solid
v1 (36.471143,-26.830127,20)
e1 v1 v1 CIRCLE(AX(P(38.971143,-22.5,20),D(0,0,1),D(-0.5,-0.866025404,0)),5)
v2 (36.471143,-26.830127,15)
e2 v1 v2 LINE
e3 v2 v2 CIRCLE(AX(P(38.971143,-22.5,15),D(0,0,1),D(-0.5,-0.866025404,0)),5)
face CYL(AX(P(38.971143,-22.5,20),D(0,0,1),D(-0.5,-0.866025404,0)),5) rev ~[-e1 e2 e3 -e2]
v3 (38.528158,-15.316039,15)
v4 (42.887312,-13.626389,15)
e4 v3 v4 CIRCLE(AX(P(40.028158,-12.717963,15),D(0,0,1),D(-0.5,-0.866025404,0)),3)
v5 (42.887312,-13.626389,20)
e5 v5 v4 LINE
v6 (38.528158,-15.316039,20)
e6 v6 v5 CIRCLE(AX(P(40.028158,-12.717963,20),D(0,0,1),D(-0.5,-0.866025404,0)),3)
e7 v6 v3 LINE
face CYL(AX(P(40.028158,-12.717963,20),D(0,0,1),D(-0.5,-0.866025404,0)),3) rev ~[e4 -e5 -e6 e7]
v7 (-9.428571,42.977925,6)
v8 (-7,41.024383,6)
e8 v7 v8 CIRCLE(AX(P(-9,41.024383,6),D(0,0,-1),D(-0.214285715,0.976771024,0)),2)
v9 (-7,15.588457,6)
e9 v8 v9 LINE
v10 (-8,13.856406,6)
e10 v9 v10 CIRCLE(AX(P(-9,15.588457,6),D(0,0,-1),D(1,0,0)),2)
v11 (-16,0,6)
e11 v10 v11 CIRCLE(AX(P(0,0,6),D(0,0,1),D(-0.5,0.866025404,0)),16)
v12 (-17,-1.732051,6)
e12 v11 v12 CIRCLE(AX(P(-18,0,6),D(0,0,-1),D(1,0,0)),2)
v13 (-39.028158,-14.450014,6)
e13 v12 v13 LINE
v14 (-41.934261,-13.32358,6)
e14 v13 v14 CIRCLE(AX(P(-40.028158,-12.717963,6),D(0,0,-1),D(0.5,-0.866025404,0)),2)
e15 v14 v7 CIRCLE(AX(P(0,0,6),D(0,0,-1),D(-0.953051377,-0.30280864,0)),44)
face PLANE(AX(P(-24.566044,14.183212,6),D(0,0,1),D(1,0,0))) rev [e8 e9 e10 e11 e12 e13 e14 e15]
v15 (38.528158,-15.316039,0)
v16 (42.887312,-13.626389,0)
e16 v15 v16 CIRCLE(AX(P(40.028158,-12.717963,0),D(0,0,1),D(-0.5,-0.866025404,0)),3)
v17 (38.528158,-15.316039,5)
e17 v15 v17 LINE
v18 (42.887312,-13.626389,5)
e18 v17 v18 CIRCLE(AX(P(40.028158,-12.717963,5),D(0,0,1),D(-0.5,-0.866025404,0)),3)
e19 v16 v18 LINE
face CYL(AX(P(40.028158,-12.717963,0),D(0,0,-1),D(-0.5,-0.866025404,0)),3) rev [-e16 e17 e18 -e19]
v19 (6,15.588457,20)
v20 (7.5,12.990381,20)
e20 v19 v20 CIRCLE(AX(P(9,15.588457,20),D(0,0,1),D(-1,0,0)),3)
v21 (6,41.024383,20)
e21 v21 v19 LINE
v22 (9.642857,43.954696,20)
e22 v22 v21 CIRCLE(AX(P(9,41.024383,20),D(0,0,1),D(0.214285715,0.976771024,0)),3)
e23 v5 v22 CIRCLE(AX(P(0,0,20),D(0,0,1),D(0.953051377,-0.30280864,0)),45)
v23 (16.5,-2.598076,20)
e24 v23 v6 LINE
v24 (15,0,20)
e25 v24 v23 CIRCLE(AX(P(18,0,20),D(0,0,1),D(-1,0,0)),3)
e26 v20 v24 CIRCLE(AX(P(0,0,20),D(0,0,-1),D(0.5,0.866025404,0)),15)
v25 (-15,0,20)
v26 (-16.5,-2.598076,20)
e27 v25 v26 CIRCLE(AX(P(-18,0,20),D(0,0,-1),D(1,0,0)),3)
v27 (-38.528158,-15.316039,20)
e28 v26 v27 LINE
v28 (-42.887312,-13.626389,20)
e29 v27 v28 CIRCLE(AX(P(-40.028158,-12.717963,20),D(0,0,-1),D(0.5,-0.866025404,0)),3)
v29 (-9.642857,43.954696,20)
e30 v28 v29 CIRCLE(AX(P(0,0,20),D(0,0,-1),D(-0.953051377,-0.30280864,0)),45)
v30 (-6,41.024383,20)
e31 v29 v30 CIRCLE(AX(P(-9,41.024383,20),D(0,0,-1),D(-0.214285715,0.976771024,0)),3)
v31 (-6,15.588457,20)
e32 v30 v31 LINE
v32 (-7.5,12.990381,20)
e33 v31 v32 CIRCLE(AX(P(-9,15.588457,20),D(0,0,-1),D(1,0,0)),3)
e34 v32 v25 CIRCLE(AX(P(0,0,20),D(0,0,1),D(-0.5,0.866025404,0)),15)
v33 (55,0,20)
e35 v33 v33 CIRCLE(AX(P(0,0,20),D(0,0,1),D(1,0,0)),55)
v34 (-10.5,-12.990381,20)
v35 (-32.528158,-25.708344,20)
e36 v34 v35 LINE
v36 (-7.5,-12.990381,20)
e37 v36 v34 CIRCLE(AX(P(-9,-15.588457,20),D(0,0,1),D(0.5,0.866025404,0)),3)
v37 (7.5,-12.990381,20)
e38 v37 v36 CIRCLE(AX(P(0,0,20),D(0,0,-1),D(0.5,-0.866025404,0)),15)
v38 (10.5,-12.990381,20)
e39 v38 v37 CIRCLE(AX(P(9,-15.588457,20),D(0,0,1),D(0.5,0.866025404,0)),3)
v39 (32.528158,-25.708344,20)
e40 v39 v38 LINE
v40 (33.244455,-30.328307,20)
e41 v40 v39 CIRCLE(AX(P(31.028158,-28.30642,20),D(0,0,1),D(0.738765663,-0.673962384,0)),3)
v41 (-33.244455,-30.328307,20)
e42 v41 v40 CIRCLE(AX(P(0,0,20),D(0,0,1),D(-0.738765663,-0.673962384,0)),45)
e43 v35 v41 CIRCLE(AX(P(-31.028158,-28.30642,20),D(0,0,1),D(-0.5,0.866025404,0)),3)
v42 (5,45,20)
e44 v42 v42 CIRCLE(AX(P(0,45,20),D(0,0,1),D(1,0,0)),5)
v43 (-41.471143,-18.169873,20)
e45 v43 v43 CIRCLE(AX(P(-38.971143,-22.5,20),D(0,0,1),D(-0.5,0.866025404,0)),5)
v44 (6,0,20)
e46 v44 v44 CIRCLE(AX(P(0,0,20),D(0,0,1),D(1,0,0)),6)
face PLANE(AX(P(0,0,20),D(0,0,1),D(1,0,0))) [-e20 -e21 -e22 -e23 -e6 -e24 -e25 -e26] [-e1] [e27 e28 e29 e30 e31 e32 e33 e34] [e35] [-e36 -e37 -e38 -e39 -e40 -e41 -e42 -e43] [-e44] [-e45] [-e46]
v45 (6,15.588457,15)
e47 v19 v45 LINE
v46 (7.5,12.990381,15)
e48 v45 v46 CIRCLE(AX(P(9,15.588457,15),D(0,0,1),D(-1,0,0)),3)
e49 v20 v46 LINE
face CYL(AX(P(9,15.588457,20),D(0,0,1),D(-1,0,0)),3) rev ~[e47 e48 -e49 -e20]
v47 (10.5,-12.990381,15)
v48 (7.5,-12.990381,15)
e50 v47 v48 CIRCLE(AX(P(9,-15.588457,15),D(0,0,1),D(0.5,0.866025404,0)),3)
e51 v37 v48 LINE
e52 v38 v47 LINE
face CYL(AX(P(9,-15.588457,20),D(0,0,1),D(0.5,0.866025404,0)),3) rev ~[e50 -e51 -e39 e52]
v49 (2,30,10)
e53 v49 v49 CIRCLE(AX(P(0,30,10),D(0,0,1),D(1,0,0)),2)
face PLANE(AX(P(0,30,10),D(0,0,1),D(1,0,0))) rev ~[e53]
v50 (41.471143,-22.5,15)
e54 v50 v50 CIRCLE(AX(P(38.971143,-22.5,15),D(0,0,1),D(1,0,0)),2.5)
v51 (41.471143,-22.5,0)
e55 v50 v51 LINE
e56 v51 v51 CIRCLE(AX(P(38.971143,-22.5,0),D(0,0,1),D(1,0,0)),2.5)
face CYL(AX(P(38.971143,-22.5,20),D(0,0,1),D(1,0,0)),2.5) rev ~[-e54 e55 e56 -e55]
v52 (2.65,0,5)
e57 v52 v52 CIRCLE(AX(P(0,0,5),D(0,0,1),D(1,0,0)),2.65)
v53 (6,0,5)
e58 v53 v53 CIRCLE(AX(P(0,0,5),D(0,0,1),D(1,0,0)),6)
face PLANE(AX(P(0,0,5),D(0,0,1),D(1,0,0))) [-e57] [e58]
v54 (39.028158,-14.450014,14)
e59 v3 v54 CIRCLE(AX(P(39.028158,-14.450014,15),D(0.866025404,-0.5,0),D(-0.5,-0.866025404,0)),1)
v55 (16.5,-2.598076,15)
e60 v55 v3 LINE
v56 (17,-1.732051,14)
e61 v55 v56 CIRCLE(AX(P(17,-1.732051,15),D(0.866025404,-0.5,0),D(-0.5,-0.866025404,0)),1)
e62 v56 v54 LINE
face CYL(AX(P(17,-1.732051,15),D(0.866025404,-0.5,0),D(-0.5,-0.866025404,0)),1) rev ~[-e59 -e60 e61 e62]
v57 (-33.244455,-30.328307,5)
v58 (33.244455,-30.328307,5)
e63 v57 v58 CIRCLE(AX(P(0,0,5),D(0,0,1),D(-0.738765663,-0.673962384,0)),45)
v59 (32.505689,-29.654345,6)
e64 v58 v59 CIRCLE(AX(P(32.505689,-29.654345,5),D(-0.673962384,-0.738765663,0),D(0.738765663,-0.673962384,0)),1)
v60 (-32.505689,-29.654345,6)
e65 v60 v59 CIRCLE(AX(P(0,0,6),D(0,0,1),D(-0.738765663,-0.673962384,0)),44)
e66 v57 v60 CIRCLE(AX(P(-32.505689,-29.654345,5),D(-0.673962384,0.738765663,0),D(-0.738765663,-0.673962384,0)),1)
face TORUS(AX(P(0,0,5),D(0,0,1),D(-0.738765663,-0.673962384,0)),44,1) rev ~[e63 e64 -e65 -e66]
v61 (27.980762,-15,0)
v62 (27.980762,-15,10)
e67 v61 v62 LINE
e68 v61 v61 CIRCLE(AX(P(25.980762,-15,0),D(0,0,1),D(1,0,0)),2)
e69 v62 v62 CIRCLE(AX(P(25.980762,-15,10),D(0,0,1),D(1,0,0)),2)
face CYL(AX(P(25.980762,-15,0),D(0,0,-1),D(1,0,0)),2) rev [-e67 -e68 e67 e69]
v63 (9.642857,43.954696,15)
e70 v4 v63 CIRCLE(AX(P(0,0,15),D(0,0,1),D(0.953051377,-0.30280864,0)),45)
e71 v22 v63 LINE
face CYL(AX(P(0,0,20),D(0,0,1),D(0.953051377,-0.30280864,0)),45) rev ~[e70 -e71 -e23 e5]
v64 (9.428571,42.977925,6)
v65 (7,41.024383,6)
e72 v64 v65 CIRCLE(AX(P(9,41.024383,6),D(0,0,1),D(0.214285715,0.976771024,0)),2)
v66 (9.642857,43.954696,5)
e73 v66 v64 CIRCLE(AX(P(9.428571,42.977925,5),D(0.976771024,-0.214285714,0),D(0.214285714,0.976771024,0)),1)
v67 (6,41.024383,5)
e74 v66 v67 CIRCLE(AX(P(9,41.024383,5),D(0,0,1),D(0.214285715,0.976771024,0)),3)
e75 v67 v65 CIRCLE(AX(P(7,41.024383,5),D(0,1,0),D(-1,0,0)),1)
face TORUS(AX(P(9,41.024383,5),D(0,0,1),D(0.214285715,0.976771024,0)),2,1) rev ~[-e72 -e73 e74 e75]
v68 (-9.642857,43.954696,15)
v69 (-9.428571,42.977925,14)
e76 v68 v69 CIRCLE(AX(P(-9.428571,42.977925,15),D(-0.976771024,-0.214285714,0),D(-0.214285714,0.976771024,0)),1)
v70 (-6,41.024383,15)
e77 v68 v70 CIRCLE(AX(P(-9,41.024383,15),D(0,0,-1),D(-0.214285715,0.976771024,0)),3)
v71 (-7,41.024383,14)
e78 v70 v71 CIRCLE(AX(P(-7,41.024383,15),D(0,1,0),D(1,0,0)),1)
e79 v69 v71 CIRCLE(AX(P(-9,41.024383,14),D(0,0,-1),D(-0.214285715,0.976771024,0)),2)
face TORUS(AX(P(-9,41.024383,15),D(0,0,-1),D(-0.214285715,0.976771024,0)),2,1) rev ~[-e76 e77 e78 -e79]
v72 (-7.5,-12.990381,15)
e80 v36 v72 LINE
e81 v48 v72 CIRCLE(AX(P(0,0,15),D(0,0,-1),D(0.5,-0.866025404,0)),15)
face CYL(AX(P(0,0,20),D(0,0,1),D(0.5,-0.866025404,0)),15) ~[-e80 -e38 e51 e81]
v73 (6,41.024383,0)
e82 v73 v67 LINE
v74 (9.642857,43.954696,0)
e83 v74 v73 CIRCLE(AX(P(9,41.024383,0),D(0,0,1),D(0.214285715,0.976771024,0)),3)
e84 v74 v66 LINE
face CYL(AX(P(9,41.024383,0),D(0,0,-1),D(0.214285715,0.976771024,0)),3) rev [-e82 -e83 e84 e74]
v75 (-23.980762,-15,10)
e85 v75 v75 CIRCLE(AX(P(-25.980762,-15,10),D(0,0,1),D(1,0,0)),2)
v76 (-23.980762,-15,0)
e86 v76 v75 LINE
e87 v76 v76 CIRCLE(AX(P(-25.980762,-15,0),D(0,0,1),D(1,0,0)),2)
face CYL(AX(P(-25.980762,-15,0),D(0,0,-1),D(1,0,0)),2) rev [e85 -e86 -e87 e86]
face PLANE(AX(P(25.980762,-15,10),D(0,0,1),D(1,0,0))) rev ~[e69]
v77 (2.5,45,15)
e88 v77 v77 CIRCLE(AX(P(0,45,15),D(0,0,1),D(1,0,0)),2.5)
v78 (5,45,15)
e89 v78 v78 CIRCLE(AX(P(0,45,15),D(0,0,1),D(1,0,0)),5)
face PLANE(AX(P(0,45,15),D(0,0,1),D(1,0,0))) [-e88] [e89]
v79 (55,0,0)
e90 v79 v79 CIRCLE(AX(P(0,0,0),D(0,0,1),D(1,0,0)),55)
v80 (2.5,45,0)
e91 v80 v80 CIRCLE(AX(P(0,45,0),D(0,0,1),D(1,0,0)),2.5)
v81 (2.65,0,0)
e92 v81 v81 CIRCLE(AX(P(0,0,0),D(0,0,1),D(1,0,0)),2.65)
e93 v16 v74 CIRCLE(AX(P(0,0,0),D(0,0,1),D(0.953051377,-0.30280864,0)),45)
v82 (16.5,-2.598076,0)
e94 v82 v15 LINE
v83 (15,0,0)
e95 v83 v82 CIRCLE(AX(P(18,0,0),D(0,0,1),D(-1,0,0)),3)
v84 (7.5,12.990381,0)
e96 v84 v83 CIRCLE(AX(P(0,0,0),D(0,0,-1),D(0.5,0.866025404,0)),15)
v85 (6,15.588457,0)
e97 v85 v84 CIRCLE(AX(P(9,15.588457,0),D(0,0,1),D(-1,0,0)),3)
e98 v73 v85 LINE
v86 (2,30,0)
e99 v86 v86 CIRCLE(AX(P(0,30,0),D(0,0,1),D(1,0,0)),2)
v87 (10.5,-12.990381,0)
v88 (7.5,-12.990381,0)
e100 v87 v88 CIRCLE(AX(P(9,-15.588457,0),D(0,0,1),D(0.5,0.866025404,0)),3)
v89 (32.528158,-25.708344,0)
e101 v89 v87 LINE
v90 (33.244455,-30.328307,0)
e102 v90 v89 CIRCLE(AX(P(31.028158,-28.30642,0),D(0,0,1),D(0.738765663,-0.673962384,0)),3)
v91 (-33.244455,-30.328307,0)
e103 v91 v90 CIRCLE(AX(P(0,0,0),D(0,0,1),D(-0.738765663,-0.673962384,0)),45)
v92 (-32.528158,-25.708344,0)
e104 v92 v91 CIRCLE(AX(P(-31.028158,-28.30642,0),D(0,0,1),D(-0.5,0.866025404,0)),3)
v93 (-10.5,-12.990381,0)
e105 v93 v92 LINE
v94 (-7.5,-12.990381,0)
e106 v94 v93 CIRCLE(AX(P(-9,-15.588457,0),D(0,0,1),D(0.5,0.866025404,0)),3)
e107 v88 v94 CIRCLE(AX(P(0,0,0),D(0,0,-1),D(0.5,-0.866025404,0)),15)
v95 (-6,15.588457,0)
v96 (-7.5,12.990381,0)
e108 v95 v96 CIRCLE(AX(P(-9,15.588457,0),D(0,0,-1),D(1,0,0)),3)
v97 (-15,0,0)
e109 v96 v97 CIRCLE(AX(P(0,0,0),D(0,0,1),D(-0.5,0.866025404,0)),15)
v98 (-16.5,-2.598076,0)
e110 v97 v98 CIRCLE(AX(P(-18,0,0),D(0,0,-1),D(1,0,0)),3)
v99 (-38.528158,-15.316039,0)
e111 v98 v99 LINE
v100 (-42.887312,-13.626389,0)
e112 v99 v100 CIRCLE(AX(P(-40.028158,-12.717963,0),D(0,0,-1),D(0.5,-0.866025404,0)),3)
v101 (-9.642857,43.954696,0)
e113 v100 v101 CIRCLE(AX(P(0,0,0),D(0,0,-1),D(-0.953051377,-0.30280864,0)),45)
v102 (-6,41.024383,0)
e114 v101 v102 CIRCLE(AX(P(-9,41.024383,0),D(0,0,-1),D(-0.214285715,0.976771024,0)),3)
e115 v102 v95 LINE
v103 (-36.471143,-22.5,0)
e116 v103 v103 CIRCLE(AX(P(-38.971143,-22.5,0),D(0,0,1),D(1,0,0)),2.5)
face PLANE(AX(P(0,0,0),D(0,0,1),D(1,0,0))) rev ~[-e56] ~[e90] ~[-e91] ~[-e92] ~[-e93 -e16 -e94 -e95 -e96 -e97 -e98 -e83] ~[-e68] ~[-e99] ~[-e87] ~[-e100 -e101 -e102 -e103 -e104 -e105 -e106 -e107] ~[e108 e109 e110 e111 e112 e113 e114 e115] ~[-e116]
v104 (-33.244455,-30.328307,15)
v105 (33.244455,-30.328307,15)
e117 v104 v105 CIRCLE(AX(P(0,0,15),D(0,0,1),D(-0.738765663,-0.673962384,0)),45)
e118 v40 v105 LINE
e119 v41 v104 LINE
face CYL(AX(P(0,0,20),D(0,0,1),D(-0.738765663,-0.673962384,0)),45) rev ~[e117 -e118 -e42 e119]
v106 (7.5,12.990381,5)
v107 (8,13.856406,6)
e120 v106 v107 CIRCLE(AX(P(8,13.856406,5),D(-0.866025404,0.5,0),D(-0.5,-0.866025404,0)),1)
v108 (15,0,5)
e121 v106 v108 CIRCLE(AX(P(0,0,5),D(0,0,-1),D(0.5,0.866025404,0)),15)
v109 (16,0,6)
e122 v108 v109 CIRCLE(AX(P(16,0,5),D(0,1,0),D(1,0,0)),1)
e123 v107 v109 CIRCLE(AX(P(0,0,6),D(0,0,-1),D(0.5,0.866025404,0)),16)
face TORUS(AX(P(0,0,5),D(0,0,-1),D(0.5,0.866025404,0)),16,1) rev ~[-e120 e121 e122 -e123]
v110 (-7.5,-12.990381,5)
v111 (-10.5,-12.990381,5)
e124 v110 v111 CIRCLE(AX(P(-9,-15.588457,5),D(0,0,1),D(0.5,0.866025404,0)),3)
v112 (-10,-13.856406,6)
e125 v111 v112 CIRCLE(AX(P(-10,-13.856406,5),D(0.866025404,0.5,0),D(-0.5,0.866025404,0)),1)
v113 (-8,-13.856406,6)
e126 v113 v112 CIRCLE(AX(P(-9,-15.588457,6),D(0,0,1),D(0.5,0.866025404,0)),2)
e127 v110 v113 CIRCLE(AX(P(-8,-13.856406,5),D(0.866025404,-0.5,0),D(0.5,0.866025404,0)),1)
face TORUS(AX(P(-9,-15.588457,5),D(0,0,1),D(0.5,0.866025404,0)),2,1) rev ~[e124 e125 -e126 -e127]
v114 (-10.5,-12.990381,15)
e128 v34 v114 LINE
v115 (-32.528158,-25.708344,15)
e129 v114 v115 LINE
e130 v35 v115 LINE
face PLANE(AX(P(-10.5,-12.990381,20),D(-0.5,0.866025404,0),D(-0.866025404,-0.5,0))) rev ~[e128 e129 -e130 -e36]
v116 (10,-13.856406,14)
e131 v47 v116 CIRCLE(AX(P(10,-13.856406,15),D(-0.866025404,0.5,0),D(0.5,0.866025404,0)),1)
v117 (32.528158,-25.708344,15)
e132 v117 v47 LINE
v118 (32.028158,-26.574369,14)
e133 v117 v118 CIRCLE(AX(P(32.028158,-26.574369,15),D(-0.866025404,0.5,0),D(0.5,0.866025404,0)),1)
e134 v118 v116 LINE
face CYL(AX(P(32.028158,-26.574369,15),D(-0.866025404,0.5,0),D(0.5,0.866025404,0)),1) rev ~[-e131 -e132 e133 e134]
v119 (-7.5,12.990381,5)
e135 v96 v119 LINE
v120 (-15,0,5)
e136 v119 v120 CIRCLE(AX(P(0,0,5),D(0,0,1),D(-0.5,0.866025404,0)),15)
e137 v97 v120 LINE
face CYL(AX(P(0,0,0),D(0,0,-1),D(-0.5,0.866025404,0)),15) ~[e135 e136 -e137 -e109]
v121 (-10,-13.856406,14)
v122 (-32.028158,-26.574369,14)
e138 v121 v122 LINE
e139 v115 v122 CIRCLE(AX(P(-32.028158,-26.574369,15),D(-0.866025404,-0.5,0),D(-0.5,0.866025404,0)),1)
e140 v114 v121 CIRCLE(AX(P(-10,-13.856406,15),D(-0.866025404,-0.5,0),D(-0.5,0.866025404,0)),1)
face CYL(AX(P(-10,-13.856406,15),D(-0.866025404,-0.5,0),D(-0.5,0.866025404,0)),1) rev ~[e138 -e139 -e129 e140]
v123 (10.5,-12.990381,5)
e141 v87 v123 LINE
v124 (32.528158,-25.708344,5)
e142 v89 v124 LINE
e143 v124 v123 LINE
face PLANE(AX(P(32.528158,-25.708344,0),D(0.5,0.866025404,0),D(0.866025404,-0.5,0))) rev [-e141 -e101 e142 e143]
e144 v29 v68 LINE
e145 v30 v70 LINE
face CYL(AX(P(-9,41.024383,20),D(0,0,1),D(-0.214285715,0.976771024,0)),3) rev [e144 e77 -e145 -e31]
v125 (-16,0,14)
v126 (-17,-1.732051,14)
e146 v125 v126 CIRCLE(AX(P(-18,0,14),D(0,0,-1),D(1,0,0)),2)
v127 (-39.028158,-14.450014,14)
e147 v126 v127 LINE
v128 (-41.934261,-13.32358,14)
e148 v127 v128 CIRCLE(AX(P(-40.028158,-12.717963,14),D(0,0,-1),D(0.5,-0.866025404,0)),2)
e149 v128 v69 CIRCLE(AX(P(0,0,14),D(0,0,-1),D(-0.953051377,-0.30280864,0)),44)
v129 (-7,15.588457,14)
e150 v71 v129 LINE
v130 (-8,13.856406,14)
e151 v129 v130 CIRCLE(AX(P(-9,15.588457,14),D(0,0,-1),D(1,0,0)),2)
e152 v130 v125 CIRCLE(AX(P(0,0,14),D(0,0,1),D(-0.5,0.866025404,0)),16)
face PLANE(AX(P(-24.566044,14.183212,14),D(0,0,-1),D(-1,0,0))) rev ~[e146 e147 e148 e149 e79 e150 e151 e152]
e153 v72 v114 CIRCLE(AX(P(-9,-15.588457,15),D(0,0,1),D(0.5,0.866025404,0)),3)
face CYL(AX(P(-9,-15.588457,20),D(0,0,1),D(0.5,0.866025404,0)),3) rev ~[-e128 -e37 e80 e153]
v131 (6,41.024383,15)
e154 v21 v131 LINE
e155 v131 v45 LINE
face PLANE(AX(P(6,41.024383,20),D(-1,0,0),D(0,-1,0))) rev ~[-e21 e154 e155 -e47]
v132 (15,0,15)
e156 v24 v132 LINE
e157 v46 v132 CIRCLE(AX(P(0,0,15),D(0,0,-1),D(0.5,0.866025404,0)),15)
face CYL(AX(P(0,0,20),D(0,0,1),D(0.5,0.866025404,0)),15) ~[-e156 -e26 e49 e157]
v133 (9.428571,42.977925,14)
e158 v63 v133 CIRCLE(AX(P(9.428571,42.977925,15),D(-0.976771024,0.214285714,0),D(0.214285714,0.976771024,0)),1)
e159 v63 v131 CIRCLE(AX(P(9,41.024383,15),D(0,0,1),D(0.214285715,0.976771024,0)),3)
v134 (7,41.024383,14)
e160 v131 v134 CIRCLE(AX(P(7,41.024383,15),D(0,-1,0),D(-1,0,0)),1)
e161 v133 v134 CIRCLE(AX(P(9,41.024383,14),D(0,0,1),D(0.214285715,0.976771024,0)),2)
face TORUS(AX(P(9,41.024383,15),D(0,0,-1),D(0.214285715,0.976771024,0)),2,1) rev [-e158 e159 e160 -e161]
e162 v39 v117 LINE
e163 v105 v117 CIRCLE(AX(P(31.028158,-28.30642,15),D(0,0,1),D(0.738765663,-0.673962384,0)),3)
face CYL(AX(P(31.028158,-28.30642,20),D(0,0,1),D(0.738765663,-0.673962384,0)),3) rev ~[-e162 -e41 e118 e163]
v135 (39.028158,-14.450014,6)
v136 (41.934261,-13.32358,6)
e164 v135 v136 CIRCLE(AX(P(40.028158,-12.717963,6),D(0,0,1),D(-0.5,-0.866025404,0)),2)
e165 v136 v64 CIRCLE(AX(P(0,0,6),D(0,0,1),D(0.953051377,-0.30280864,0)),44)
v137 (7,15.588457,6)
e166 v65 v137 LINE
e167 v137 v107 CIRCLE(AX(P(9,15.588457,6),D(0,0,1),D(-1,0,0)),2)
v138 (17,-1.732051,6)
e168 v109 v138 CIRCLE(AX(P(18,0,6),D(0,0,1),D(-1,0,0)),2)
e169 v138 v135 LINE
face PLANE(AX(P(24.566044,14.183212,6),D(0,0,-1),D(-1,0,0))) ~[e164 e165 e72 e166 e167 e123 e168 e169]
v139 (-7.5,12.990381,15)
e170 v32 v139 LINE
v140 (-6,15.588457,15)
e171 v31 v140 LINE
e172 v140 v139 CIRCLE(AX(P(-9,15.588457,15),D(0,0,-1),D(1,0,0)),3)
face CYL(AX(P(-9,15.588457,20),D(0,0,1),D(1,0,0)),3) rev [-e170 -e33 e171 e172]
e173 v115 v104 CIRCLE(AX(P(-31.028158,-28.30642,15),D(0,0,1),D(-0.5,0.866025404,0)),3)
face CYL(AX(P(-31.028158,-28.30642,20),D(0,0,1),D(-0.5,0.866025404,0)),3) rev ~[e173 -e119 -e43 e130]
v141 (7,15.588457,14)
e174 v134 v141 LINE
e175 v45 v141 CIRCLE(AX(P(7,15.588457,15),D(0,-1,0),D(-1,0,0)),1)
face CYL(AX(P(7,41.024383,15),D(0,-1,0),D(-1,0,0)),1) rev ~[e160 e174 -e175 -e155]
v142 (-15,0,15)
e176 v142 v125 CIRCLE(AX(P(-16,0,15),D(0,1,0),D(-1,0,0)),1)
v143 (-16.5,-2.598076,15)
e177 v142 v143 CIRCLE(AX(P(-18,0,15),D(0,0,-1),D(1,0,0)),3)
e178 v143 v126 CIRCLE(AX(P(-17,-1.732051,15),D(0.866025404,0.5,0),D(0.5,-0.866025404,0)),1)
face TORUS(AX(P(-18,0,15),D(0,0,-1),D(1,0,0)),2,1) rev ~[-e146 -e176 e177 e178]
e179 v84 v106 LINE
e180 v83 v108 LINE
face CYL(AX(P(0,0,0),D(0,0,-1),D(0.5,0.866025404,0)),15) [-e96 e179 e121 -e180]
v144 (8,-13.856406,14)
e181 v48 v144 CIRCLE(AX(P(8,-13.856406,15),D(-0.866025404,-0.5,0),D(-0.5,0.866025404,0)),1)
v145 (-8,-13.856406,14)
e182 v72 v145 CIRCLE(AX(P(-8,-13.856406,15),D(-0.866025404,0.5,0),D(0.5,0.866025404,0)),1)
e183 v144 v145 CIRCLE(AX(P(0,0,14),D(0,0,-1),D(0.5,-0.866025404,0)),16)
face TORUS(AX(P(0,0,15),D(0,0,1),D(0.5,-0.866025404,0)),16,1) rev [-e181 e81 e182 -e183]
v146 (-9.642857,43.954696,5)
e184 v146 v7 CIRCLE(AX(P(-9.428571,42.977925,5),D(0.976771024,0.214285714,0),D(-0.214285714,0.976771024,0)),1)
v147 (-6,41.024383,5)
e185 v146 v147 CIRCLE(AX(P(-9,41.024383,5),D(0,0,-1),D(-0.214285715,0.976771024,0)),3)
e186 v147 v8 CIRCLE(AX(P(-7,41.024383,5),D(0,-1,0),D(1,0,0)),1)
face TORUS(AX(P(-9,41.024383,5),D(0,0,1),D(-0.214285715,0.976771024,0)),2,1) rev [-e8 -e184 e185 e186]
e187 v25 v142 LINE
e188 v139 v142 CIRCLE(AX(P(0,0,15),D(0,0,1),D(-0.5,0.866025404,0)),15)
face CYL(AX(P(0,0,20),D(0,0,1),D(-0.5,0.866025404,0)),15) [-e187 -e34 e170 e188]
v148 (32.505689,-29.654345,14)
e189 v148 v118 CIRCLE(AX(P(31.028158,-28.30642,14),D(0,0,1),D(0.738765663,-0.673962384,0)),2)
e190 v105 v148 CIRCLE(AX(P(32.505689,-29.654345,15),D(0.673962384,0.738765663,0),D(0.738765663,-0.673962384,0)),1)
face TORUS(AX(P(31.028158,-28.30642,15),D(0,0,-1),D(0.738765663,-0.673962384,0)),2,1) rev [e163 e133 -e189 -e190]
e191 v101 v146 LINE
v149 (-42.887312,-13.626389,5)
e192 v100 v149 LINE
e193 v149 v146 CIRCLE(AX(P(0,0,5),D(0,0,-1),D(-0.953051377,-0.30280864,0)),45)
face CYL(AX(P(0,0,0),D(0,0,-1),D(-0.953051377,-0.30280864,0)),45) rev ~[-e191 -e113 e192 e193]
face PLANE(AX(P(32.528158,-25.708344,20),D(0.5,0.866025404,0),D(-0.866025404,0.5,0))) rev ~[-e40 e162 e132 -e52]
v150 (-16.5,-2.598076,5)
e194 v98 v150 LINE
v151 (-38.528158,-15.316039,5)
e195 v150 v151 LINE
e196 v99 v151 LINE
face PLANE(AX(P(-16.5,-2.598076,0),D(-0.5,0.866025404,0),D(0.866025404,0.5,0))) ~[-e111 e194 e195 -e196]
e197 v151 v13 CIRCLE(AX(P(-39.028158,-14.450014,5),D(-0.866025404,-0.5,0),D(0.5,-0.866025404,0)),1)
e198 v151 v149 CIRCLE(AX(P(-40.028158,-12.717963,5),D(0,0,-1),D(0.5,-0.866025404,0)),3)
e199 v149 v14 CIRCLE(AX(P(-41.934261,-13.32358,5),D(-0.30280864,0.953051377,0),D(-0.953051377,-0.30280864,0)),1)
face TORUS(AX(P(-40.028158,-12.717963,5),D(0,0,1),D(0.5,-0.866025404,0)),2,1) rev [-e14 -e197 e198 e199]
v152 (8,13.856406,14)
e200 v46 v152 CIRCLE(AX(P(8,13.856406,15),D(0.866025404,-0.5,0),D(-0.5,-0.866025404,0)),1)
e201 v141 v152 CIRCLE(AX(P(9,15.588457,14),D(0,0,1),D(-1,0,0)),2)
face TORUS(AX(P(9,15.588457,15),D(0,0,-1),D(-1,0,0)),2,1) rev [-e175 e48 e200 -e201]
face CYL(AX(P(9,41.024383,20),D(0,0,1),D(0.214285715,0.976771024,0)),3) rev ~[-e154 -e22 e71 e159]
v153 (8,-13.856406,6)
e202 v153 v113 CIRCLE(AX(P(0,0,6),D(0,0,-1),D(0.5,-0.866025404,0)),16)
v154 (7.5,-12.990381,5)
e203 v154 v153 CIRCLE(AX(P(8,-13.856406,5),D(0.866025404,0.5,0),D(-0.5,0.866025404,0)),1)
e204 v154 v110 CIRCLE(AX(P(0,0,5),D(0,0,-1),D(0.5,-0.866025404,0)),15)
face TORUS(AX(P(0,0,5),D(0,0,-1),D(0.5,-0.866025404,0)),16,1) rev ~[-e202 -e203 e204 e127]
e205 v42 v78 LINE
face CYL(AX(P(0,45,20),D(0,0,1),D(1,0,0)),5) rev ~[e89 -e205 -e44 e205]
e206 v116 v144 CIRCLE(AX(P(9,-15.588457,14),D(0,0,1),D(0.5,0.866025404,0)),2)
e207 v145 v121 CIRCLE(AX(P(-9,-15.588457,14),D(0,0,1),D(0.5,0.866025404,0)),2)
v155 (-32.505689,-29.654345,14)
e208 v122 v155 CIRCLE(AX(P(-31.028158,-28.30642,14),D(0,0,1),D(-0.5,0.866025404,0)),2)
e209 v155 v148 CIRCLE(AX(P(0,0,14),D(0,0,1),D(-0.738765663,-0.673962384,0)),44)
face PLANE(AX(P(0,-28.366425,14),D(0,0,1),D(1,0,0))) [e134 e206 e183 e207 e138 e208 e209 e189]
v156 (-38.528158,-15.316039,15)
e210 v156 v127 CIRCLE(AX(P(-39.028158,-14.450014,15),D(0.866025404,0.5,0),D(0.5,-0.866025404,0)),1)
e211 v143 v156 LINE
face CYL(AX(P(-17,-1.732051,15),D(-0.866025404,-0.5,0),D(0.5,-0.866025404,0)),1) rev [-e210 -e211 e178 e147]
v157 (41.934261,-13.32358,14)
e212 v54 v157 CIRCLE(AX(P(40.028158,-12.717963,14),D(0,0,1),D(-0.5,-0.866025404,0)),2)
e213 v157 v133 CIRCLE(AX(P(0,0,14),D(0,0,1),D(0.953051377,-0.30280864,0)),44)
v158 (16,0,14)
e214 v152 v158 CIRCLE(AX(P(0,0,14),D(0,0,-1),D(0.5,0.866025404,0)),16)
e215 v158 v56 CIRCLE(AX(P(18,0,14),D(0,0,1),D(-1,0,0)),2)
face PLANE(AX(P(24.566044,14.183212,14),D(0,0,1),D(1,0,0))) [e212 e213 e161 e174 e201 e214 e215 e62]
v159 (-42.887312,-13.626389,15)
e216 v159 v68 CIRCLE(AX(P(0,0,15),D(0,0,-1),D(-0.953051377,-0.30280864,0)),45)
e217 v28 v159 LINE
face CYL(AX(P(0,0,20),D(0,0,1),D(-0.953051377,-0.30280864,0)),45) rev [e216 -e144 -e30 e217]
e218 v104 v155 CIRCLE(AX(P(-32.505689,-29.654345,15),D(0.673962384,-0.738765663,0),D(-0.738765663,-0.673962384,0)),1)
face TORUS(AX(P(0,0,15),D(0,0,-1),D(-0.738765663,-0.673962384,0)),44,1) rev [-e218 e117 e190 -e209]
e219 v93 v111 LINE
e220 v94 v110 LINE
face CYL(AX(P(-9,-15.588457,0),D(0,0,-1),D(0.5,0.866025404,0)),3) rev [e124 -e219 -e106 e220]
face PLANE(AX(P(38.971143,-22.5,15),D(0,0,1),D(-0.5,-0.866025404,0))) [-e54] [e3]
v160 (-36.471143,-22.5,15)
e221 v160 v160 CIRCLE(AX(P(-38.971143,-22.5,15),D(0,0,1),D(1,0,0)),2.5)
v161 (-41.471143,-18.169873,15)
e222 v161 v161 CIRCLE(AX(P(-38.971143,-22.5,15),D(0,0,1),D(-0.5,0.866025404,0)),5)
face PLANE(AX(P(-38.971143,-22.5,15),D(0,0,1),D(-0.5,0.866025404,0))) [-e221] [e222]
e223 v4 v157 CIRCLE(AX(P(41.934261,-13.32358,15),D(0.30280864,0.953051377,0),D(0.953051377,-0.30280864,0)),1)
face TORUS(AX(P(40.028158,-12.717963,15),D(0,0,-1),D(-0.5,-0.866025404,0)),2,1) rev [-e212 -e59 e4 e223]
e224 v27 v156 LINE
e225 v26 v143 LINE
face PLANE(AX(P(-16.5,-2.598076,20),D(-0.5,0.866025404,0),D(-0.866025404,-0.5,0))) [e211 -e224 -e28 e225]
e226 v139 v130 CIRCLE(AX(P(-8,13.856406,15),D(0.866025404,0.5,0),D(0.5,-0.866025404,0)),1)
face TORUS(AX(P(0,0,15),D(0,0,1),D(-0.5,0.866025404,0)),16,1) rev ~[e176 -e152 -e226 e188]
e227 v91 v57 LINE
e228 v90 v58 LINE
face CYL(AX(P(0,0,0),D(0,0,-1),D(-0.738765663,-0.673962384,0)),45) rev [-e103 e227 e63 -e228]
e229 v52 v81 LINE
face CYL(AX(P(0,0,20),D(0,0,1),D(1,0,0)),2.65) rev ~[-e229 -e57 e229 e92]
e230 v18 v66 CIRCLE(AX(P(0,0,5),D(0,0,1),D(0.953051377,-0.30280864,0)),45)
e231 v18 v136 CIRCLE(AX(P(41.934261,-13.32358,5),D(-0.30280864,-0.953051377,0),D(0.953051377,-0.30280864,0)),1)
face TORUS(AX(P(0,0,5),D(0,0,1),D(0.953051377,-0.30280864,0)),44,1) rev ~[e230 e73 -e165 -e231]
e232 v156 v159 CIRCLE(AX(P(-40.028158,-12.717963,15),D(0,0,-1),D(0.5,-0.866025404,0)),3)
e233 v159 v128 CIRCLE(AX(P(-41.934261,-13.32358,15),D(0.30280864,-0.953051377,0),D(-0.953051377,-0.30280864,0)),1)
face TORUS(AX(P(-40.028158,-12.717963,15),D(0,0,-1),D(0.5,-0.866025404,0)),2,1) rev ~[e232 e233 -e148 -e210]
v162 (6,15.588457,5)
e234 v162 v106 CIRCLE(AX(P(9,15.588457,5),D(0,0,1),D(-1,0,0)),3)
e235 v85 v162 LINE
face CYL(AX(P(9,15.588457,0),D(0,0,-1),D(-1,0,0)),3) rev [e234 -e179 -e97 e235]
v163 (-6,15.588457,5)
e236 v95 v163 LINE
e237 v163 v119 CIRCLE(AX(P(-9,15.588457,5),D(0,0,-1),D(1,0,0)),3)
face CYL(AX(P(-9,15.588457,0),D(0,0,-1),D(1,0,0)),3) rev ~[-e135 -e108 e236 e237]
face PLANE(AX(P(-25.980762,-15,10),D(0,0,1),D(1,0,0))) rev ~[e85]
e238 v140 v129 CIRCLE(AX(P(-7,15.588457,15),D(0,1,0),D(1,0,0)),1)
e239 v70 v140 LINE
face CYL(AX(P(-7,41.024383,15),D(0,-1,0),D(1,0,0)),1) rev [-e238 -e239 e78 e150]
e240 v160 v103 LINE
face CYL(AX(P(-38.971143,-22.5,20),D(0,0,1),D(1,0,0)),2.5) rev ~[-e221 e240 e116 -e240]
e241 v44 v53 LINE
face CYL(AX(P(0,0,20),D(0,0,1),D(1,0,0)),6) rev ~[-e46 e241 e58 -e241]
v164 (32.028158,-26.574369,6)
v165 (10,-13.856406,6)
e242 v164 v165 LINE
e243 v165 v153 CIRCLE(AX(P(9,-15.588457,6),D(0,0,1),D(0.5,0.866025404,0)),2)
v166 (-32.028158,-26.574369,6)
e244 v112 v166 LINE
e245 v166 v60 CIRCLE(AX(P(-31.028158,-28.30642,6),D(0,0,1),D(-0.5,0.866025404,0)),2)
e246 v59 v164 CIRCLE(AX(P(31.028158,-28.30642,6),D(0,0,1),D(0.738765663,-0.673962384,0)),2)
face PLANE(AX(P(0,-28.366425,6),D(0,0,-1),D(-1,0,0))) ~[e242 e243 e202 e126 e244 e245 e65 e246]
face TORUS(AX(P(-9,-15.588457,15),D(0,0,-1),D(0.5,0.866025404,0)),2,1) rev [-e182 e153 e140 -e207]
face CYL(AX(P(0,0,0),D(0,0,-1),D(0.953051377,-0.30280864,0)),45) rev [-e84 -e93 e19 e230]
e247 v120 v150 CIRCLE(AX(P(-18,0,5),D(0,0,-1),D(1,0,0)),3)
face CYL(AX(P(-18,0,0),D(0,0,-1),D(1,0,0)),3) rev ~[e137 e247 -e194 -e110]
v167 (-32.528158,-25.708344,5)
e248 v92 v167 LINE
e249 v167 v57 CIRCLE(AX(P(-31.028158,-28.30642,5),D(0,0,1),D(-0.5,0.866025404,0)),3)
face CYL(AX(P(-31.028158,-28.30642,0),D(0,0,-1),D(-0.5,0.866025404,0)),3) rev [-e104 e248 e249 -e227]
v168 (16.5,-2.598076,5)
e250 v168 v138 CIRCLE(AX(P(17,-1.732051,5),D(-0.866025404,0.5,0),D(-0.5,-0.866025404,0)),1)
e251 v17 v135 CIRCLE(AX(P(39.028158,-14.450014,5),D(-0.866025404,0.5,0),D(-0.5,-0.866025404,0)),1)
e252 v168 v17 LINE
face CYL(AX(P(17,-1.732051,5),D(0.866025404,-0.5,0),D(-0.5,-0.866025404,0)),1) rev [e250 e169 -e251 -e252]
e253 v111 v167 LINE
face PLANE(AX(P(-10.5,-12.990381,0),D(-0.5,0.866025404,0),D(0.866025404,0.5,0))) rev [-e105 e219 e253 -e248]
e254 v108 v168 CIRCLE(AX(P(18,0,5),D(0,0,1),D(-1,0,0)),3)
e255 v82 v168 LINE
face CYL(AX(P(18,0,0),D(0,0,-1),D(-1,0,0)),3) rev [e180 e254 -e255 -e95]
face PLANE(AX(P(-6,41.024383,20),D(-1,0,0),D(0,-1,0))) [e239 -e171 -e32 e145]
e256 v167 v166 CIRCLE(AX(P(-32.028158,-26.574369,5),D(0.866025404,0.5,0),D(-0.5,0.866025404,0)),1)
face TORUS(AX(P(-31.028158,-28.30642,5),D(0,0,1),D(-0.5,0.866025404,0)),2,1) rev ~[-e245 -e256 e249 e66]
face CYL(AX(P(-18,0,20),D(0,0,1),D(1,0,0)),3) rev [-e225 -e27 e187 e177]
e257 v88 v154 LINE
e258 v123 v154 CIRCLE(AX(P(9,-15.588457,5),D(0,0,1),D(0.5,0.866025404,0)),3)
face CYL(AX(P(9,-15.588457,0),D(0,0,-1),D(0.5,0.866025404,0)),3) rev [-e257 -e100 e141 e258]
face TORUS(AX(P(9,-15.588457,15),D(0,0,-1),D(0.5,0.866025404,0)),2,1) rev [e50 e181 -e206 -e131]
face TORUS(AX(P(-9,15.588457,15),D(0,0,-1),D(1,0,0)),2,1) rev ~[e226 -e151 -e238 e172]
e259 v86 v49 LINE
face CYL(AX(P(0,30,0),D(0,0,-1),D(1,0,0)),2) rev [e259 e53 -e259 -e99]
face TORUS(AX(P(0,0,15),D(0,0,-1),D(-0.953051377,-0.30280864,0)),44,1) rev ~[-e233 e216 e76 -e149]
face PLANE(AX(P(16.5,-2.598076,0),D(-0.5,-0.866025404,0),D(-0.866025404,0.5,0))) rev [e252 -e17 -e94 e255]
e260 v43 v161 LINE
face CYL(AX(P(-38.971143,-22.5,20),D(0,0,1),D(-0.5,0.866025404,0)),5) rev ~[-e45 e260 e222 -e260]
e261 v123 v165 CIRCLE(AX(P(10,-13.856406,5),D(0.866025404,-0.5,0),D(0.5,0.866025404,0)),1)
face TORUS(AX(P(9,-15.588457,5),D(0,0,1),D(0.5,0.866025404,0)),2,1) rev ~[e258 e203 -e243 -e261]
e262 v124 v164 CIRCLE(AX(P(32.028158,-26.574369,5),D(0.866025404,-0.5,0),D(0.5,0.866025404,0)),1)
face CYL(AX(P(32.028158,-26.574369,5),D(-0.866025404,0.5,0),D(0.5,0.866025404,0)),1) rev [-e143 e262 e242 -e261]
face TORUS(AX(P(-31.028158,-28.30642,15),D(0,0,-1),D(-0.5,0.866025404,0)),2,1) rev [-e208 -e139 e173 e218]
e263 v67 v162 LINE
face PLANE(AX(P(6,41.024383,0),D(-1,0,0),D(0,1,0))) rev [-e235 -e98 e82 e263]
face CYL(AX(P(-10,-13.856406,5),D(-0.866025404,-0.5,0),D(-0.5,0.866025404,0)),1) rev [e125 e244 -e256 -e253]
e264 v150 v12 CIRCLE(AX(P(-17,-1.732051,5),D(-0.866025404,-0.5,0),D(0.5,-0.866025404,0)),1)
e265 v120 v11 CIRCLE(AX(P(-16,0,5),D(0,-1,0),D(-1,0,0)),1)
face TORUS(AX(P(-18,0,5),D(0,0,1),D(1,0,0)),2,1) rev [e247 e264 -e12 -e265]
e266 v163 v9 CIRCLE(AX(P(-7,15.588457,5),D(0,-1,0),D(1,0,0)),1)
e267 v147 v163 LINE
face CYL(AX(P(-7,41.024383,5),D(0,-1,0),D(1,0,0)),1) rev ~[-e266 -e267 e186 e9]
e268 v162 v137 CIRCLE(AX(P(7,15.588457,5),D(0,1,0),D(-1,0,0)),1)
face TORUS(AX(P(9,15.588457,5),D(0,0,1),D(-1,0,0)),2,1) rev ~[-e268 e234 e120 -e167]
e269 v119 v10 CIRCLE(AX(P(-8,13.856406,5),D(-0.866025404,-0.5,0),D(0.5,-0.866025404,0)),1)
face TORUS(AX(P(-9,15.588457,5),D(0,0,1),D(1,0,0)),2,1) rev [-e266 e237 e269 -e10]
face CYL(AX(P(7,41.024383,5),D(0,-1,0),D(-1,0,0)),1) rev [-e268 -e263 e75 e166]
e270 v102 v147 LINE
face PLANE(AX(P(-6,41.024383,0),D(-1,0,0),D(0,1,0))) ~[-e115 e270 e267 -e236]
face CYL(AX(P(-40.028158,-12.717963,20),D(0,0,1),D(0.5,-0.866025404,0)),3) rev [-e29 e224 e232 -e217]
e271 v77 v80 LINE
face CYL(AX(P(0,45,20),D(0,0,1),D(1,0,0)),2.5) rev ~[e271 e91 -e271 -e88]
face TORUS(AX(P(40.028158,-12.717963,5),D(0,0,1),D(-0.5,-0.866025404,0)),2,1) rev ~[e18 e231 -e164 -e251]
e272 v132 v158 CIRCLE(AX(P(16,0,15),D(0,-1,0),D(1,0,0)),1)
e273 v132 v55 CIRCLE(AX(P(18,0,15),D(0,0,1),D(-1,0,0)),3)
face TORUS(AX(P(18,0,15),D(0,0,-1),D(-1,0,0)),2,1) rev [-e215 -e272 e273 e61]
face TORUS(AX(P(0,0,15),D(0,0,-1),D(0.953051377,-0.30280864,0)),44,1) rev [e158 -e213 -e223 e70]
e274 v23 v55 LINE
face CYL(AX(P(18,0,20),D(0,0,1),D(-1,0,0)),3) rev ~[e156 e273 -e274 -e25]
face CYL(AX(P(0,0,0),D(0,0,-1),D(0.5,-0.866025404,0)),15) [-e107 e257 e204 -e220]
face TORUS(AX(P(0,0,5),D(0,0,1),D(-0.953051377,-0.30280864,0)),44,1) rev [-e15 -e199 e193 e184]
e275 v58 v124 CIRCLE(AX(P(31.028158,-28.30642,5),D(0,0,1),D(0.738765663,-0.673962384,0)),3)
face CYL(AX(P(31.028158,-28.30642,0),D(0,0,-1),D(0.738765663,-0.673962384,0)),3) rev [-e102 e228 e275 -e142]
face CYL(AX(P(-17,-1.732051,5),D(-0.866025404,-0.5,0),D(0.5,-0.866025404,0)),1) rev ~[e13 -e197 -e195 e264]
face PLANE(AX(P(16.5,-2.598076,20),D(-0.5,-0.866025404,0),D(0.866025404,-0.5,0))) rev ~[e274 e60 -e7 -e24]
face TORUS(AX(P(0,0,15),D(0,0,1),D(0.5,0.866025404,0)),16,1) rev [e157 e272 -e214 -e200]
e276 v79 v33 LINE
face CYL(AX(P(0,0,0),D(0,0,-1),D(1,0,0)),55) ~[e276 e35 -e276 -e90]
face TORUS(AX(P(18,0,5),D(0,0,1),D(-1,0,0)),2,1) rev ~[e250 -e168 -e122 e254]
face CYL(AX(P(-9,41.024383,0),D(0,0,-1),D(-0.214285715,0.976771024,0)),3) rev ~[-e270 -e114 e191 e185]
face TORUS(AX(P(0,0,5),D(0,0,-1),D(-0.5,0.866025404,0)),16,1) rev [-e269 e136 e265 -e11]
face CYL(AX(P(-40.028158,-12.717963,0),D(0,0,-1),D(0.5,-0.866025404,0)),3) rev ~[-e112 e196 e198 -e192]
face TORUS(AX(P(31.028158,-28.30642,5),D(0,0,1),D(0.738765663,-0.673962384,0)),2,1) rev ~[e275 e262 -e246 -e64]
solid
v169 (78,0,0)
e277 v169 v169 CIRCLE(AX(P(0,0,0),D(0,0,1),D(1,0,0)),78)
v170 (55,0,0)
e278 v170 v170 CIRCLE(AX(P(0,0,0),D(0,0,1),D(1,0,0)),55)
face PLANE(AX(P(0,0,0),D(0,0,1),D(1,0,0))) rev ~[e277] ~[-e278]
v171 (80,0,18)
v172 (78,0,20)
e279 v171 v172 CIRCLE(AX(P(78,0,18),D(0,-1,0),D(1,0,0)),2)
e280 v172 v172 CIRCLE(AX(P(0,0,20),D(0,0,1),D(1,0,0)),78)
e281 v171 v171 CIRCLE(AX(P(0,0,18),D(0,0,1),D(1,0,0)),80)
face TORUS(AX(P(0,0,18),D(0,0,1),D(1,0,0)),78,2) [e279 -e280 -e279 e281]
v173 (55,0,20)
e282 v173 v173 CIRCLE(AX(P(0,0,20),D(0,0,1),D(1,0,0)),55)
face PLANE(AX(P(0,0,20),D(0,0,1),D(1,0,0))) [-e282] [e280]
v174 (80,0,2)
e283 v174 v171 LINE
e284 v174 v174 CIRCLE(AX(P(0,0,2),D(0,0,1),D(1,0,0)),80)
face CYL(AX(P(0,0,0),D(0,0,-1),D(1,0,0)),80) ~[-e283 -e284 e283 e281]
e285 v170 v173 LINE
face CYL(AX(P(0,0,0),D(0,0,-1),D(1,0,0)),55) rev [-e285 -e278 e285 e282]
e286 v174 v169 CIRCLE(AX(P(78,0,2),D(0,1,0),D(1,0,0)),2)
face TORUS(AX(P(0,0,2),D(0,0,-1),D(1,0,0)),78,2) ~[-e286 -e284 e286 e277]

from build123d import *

# Parameters (mm, degrees)
SKETCH_1_R               = 55
EXTRUDE_1_DEPTH          = 20
SKETCH_2_R               = 2.65
CUT_EXTRUDE_1_DEPTH      = 81.311892021
SKETCH_11_R              = 6
CUT_EXTRUDE_6_DEPTH      = 15
SKETCH_3_R               = 2.5
CUT_EXTRUDE_2_DEPTH      = 81.311892021
SKETCH_5_R               = 5
CUT_EXTRUDE_3_DEPTH      = 5
PATTERN_CIRCULAR_1_COUNT = 3
SKETCH_6_R               = 2
CUT_EXTRUDE_4_DEPTH      = 10
SKETCH_7_R               = 80
SKETCH_7_R_2             = 55
EXTRUDE_2_DEPTH          = 20
FILLET_1_R               = 2
CUT_EXTRUDE_5_DEPTH      = 6
FILLET_2_R               = 1


with BuildPart() as part:
    # 草图1 → 凸台-拉伸1 (new body)
    with BuildSketch(Plane.XY):
        Circle(SKETCH_1_R)
    extrude(amount=EXTRUDE_1_DEPTH)

    # 草图2 → 切除-拉伸1 (cut, through all)
    with BuildSketch(Plane.XY.offset(20)):
        Circle(SKETCH_2_R)
    extrude(amount=-CUT_EXTRUDE_1_DEPTH, mode=Mode.SUBTRACT)

    # 草图11 → 切除-拉伸6 (cut)
    with BuildSketch(Plane.XY.offset(20)):
        Circle(SKETCH_11_R)
    extrude(amount=-CUT_EXTRUDE_6_DEPTH, mode=Mode.SUBTRACT)

    # 草图3 → 切除-拉伸2 (cut, through all)
    with BuildSketch(Plane.XY.offset(20)):
        with Locations((0, 45)):
            Circle(SKETCH_3_R)
        with Locations((38.97114317, -22.5)):
            Circle(SKETCH_3_R)
        with Locations((-38.97114317, -22.5)):
            Circle(SKETCH_3_R)
    extrude(amount=-CUT_EXTRUDE_2_DEPTH, mode=Mode.SUBTRACT)

    # 草图5 → 切除-拉伸3 (cut)
    with BuildSketch(Plane.XY.offset(20)):
        with Locations((0, 45)):
            Circle(SKETCH_5_R)
    cut_extrude_3 = extrude(amount=-CUT_EXTRUDE_3_DEPTH, mode=Mode.SUBTRACT)

    # 阵列(圆周)1: 切除-拉伸3 ×3 about axis
    pattern_circular_1_axis = Axis((0, 0, 0), (0, 0, 1))
    for i in range(1, PATTERN_CIRCULAR_1_COUNT):
        add(cut_extrude_3.rotate(pattern_circular_1_axis, i * 360 / PATTERN_CIRCULAR_1_COUNT), mode=Mode.SUBTRACT)

    # 草图6 → 切除-拉伸4 (cut)
    with BuildSketch(Plane.XY):
        with Locations((0, 30)):
            Circle(SKETCH_6_R)
        with Locations((25.980762114, -15)):
            Circle(SKETCH_6_R)
        with Locations((-25.980762114, -15)):
            Circle(SKETCH_6_R)
    extrude(amount=CUT_EXTRUDE_4_DEPTH, mode=Mode.SUBTRACT)

    # 草图9 → 切除-拉伸5 (cut)
    with BuildSketch(Plane.XY.offset(20)):
        with BuildLine():
            Line((-6, 41.024382994), (-6, 15.588457268))
            ThreePointArc((-6, 15.588457268), (-6.401923789, 14.088457268), (-7.5, 12.990381057))
            ThreePointArc((-7.5, 12.990381057), (-12.990381057, 7.5), (-15, 0))
            ThreePointArc((-15, 0), (-15.401923789, -1.5), (-16.5, -2.598076211))
            Line((-16.5, -2.598076211), (-38.528157847, -15.316039074))
            ThreePointArc((-38.528157847, -15.316039074), (-41.112387766, -15.515183891), (-42.887311979, -13.626388781))
            ThreePointArc((-42.887311979, -13.626388781), (-38.97114317, 22.5), (-9.642857143, 43.954696064))
            ThreePointArc((-9.642857143, 43.954696064), (-7.119650488, 43.361964161), (-6, 41.024382994))
        make_face()
        with BuildLine():
            Line((6, 41.024382994), (6, 15.588457268))
            ThreePointArc((6, 15.588457268), (6.401923789, 14.088457268), (7.5, 12.990381057))
            ThreePointArc((7.5, 12.990381057), (12.990381057, 7.5), (15, 0))
            ThreePointArc((15, 0), (15.401923789, -1.5), (16.5, -2.598076211))
            Line((16.5, -2.598076211), (38.528157847, -15.316039074))
            ThreePointArc((38.528157847, -15.316039074), (41.112387766, -15.515183891), (42.887311979, -13.626388781))
            ThreePointArc((42.887311979, -13.626388781), (38.97114317, 22.5), (9.642857143, 43.954696064))
            ThreePointArc((9.642857143, 43.954696064), (7.119650488, 43.361964161), (6, 41.024382994))
        make_face()
        with BuildLine():
            Line((32.528157847, -25.708343919), (10.5, -12.990381057))
            ThreePointArc((10.5, -12.990381057), (9, -12.588457268), (7.5, -12.990381057))
            ThreePointArc((7.5, -12.990381057), (0, -15), (-7.5, -12.990381057))
            ThreePointArc((-7.5, -12.990381057), (-9, -12.588457268), (-10.5, -12.990381057))
            Line((-10.5, -12.990381057), (-32.528157847, -25.708343919))
            ThreePointArc((-32.528157847, -25.708343919), (-33.992737277, -27.84678027), (-33.244454836, -30.328307283))
            ThreePointArc((-33.244454836, -30.328307283), (0, -45), (33.244454836, -30.328307283))
            ThreePointArc((33.244454836, -30.328307283), (33.992737277, -27.84678027), (32.528157847, -25.708343919))
        make_face()
    cut_extrude_5 = extrude(amount=-CUT_EXTRUDE_5_DEPTH, mode=Mode.SUBTRACT)

    # 镜向1: 切除-拉伸5 across plane
    add(cut_extrude_5.mirror(Plane.XY.offset(10)), mode=Mode.SUBTRACT)

    # 圆角2
    fillet_2_edges = [part.edges().sort_by_distance(p)[0] for p in [
        (-6.401923789, 14.088457268, 6),
        (-6, 28.306420131, 6),
        (-7.119650488, 43.361964161, 6),
        (-38.97114317, 22.5, 6),
        (-41.112387766, -15.515183891, 6),
        (-27.514078923, -8.957057643, 6),
        (-15.401923789, -1.5, 6),
        (-12.990381057, 7.5, 6),
        (6.401923789, 14.088457268, 6),
        (12.990381057, 7.5, 6),
        (15.401923789, -1.5, 6),
        (27.514078923, -8.957057643, 6),
        (41.112387766, -15.515183891, 6),
        (38.97114317, 22.5, 6),
        (7.119650488, 43.361964161, 6),
        (6, 28.306420131, 6),
        (-9, -12.588457268, 6),
        (-21.514078923, -19.349362488, 6),
        (-33.992737277, -27.84678027, 6),
        (0, -45, 6),
        (33.992737277, -27.84678027, 6),
        (21.514078923, -19.349362488, 6),
        (9, -12.588457268, 6),
        (0, -15, 6),
        (-6.401923789, 14.088457268, 14),
        (-12.990381057, 7.5, 14),
        (-15.401923789, -1.5, 14),
        (-27.514078923, -8.957057643, 14),
        (-41.112387766, -15.515183891, 14),
        (-38.97114317, 22.5, 14),
        (-7.119650488, 43.361964161, 14),
        (-6, 28.306420131, 14),
        (6.401923789, 14.088457268, 14),
        (6, 28.306420131, 14),
        (7.119650488, 43.361964161, 14),
        (38.97114317, 22.5, 14),
        (41.112387766, -15.515183891, 14),
        (27.514078923, -8.957057643, 14),
        (15.401923789, -1.5, 14),
        (12.990381057, 7.5, 14),
        (-9, -12.588457268, 14),
        (0, -15, 14),
        (9, -12.588457268, 14),
        (21.514078923, -19.349362488, 14),
        (33.992737277, -27.84678027, 14),
        (0, -45, 14),
        (-33.992737277, -27.84678027, 14),
        (-21.514078923, -19.349362488, 14),
    ]]
    fillet(fillet_2_edges, radius=FILLET_2_R)


with BuildPart() as body_2:
    # 草图7 → 凸台-拉伸2 (new body)
    with BuildSketch(Plane.XY):
        Circle(SKETCH_7_R)
        Circle(SKETCH_7_R_2, mode=Mode.SUBTRACT)
    extrude(amount=EXTRUDE_2_DEPTH)

    # 圆角1
    fillet_1_edges = [body_2.edges().sort_by_distance(p)[0] for p in [
        (-80, 0, 20),
        (-80, 0, 0),
    ]]
    fillet(fillet_1_edges, radius=FILLET_1_R)


solid = Compound([part.part, body_2.part])
